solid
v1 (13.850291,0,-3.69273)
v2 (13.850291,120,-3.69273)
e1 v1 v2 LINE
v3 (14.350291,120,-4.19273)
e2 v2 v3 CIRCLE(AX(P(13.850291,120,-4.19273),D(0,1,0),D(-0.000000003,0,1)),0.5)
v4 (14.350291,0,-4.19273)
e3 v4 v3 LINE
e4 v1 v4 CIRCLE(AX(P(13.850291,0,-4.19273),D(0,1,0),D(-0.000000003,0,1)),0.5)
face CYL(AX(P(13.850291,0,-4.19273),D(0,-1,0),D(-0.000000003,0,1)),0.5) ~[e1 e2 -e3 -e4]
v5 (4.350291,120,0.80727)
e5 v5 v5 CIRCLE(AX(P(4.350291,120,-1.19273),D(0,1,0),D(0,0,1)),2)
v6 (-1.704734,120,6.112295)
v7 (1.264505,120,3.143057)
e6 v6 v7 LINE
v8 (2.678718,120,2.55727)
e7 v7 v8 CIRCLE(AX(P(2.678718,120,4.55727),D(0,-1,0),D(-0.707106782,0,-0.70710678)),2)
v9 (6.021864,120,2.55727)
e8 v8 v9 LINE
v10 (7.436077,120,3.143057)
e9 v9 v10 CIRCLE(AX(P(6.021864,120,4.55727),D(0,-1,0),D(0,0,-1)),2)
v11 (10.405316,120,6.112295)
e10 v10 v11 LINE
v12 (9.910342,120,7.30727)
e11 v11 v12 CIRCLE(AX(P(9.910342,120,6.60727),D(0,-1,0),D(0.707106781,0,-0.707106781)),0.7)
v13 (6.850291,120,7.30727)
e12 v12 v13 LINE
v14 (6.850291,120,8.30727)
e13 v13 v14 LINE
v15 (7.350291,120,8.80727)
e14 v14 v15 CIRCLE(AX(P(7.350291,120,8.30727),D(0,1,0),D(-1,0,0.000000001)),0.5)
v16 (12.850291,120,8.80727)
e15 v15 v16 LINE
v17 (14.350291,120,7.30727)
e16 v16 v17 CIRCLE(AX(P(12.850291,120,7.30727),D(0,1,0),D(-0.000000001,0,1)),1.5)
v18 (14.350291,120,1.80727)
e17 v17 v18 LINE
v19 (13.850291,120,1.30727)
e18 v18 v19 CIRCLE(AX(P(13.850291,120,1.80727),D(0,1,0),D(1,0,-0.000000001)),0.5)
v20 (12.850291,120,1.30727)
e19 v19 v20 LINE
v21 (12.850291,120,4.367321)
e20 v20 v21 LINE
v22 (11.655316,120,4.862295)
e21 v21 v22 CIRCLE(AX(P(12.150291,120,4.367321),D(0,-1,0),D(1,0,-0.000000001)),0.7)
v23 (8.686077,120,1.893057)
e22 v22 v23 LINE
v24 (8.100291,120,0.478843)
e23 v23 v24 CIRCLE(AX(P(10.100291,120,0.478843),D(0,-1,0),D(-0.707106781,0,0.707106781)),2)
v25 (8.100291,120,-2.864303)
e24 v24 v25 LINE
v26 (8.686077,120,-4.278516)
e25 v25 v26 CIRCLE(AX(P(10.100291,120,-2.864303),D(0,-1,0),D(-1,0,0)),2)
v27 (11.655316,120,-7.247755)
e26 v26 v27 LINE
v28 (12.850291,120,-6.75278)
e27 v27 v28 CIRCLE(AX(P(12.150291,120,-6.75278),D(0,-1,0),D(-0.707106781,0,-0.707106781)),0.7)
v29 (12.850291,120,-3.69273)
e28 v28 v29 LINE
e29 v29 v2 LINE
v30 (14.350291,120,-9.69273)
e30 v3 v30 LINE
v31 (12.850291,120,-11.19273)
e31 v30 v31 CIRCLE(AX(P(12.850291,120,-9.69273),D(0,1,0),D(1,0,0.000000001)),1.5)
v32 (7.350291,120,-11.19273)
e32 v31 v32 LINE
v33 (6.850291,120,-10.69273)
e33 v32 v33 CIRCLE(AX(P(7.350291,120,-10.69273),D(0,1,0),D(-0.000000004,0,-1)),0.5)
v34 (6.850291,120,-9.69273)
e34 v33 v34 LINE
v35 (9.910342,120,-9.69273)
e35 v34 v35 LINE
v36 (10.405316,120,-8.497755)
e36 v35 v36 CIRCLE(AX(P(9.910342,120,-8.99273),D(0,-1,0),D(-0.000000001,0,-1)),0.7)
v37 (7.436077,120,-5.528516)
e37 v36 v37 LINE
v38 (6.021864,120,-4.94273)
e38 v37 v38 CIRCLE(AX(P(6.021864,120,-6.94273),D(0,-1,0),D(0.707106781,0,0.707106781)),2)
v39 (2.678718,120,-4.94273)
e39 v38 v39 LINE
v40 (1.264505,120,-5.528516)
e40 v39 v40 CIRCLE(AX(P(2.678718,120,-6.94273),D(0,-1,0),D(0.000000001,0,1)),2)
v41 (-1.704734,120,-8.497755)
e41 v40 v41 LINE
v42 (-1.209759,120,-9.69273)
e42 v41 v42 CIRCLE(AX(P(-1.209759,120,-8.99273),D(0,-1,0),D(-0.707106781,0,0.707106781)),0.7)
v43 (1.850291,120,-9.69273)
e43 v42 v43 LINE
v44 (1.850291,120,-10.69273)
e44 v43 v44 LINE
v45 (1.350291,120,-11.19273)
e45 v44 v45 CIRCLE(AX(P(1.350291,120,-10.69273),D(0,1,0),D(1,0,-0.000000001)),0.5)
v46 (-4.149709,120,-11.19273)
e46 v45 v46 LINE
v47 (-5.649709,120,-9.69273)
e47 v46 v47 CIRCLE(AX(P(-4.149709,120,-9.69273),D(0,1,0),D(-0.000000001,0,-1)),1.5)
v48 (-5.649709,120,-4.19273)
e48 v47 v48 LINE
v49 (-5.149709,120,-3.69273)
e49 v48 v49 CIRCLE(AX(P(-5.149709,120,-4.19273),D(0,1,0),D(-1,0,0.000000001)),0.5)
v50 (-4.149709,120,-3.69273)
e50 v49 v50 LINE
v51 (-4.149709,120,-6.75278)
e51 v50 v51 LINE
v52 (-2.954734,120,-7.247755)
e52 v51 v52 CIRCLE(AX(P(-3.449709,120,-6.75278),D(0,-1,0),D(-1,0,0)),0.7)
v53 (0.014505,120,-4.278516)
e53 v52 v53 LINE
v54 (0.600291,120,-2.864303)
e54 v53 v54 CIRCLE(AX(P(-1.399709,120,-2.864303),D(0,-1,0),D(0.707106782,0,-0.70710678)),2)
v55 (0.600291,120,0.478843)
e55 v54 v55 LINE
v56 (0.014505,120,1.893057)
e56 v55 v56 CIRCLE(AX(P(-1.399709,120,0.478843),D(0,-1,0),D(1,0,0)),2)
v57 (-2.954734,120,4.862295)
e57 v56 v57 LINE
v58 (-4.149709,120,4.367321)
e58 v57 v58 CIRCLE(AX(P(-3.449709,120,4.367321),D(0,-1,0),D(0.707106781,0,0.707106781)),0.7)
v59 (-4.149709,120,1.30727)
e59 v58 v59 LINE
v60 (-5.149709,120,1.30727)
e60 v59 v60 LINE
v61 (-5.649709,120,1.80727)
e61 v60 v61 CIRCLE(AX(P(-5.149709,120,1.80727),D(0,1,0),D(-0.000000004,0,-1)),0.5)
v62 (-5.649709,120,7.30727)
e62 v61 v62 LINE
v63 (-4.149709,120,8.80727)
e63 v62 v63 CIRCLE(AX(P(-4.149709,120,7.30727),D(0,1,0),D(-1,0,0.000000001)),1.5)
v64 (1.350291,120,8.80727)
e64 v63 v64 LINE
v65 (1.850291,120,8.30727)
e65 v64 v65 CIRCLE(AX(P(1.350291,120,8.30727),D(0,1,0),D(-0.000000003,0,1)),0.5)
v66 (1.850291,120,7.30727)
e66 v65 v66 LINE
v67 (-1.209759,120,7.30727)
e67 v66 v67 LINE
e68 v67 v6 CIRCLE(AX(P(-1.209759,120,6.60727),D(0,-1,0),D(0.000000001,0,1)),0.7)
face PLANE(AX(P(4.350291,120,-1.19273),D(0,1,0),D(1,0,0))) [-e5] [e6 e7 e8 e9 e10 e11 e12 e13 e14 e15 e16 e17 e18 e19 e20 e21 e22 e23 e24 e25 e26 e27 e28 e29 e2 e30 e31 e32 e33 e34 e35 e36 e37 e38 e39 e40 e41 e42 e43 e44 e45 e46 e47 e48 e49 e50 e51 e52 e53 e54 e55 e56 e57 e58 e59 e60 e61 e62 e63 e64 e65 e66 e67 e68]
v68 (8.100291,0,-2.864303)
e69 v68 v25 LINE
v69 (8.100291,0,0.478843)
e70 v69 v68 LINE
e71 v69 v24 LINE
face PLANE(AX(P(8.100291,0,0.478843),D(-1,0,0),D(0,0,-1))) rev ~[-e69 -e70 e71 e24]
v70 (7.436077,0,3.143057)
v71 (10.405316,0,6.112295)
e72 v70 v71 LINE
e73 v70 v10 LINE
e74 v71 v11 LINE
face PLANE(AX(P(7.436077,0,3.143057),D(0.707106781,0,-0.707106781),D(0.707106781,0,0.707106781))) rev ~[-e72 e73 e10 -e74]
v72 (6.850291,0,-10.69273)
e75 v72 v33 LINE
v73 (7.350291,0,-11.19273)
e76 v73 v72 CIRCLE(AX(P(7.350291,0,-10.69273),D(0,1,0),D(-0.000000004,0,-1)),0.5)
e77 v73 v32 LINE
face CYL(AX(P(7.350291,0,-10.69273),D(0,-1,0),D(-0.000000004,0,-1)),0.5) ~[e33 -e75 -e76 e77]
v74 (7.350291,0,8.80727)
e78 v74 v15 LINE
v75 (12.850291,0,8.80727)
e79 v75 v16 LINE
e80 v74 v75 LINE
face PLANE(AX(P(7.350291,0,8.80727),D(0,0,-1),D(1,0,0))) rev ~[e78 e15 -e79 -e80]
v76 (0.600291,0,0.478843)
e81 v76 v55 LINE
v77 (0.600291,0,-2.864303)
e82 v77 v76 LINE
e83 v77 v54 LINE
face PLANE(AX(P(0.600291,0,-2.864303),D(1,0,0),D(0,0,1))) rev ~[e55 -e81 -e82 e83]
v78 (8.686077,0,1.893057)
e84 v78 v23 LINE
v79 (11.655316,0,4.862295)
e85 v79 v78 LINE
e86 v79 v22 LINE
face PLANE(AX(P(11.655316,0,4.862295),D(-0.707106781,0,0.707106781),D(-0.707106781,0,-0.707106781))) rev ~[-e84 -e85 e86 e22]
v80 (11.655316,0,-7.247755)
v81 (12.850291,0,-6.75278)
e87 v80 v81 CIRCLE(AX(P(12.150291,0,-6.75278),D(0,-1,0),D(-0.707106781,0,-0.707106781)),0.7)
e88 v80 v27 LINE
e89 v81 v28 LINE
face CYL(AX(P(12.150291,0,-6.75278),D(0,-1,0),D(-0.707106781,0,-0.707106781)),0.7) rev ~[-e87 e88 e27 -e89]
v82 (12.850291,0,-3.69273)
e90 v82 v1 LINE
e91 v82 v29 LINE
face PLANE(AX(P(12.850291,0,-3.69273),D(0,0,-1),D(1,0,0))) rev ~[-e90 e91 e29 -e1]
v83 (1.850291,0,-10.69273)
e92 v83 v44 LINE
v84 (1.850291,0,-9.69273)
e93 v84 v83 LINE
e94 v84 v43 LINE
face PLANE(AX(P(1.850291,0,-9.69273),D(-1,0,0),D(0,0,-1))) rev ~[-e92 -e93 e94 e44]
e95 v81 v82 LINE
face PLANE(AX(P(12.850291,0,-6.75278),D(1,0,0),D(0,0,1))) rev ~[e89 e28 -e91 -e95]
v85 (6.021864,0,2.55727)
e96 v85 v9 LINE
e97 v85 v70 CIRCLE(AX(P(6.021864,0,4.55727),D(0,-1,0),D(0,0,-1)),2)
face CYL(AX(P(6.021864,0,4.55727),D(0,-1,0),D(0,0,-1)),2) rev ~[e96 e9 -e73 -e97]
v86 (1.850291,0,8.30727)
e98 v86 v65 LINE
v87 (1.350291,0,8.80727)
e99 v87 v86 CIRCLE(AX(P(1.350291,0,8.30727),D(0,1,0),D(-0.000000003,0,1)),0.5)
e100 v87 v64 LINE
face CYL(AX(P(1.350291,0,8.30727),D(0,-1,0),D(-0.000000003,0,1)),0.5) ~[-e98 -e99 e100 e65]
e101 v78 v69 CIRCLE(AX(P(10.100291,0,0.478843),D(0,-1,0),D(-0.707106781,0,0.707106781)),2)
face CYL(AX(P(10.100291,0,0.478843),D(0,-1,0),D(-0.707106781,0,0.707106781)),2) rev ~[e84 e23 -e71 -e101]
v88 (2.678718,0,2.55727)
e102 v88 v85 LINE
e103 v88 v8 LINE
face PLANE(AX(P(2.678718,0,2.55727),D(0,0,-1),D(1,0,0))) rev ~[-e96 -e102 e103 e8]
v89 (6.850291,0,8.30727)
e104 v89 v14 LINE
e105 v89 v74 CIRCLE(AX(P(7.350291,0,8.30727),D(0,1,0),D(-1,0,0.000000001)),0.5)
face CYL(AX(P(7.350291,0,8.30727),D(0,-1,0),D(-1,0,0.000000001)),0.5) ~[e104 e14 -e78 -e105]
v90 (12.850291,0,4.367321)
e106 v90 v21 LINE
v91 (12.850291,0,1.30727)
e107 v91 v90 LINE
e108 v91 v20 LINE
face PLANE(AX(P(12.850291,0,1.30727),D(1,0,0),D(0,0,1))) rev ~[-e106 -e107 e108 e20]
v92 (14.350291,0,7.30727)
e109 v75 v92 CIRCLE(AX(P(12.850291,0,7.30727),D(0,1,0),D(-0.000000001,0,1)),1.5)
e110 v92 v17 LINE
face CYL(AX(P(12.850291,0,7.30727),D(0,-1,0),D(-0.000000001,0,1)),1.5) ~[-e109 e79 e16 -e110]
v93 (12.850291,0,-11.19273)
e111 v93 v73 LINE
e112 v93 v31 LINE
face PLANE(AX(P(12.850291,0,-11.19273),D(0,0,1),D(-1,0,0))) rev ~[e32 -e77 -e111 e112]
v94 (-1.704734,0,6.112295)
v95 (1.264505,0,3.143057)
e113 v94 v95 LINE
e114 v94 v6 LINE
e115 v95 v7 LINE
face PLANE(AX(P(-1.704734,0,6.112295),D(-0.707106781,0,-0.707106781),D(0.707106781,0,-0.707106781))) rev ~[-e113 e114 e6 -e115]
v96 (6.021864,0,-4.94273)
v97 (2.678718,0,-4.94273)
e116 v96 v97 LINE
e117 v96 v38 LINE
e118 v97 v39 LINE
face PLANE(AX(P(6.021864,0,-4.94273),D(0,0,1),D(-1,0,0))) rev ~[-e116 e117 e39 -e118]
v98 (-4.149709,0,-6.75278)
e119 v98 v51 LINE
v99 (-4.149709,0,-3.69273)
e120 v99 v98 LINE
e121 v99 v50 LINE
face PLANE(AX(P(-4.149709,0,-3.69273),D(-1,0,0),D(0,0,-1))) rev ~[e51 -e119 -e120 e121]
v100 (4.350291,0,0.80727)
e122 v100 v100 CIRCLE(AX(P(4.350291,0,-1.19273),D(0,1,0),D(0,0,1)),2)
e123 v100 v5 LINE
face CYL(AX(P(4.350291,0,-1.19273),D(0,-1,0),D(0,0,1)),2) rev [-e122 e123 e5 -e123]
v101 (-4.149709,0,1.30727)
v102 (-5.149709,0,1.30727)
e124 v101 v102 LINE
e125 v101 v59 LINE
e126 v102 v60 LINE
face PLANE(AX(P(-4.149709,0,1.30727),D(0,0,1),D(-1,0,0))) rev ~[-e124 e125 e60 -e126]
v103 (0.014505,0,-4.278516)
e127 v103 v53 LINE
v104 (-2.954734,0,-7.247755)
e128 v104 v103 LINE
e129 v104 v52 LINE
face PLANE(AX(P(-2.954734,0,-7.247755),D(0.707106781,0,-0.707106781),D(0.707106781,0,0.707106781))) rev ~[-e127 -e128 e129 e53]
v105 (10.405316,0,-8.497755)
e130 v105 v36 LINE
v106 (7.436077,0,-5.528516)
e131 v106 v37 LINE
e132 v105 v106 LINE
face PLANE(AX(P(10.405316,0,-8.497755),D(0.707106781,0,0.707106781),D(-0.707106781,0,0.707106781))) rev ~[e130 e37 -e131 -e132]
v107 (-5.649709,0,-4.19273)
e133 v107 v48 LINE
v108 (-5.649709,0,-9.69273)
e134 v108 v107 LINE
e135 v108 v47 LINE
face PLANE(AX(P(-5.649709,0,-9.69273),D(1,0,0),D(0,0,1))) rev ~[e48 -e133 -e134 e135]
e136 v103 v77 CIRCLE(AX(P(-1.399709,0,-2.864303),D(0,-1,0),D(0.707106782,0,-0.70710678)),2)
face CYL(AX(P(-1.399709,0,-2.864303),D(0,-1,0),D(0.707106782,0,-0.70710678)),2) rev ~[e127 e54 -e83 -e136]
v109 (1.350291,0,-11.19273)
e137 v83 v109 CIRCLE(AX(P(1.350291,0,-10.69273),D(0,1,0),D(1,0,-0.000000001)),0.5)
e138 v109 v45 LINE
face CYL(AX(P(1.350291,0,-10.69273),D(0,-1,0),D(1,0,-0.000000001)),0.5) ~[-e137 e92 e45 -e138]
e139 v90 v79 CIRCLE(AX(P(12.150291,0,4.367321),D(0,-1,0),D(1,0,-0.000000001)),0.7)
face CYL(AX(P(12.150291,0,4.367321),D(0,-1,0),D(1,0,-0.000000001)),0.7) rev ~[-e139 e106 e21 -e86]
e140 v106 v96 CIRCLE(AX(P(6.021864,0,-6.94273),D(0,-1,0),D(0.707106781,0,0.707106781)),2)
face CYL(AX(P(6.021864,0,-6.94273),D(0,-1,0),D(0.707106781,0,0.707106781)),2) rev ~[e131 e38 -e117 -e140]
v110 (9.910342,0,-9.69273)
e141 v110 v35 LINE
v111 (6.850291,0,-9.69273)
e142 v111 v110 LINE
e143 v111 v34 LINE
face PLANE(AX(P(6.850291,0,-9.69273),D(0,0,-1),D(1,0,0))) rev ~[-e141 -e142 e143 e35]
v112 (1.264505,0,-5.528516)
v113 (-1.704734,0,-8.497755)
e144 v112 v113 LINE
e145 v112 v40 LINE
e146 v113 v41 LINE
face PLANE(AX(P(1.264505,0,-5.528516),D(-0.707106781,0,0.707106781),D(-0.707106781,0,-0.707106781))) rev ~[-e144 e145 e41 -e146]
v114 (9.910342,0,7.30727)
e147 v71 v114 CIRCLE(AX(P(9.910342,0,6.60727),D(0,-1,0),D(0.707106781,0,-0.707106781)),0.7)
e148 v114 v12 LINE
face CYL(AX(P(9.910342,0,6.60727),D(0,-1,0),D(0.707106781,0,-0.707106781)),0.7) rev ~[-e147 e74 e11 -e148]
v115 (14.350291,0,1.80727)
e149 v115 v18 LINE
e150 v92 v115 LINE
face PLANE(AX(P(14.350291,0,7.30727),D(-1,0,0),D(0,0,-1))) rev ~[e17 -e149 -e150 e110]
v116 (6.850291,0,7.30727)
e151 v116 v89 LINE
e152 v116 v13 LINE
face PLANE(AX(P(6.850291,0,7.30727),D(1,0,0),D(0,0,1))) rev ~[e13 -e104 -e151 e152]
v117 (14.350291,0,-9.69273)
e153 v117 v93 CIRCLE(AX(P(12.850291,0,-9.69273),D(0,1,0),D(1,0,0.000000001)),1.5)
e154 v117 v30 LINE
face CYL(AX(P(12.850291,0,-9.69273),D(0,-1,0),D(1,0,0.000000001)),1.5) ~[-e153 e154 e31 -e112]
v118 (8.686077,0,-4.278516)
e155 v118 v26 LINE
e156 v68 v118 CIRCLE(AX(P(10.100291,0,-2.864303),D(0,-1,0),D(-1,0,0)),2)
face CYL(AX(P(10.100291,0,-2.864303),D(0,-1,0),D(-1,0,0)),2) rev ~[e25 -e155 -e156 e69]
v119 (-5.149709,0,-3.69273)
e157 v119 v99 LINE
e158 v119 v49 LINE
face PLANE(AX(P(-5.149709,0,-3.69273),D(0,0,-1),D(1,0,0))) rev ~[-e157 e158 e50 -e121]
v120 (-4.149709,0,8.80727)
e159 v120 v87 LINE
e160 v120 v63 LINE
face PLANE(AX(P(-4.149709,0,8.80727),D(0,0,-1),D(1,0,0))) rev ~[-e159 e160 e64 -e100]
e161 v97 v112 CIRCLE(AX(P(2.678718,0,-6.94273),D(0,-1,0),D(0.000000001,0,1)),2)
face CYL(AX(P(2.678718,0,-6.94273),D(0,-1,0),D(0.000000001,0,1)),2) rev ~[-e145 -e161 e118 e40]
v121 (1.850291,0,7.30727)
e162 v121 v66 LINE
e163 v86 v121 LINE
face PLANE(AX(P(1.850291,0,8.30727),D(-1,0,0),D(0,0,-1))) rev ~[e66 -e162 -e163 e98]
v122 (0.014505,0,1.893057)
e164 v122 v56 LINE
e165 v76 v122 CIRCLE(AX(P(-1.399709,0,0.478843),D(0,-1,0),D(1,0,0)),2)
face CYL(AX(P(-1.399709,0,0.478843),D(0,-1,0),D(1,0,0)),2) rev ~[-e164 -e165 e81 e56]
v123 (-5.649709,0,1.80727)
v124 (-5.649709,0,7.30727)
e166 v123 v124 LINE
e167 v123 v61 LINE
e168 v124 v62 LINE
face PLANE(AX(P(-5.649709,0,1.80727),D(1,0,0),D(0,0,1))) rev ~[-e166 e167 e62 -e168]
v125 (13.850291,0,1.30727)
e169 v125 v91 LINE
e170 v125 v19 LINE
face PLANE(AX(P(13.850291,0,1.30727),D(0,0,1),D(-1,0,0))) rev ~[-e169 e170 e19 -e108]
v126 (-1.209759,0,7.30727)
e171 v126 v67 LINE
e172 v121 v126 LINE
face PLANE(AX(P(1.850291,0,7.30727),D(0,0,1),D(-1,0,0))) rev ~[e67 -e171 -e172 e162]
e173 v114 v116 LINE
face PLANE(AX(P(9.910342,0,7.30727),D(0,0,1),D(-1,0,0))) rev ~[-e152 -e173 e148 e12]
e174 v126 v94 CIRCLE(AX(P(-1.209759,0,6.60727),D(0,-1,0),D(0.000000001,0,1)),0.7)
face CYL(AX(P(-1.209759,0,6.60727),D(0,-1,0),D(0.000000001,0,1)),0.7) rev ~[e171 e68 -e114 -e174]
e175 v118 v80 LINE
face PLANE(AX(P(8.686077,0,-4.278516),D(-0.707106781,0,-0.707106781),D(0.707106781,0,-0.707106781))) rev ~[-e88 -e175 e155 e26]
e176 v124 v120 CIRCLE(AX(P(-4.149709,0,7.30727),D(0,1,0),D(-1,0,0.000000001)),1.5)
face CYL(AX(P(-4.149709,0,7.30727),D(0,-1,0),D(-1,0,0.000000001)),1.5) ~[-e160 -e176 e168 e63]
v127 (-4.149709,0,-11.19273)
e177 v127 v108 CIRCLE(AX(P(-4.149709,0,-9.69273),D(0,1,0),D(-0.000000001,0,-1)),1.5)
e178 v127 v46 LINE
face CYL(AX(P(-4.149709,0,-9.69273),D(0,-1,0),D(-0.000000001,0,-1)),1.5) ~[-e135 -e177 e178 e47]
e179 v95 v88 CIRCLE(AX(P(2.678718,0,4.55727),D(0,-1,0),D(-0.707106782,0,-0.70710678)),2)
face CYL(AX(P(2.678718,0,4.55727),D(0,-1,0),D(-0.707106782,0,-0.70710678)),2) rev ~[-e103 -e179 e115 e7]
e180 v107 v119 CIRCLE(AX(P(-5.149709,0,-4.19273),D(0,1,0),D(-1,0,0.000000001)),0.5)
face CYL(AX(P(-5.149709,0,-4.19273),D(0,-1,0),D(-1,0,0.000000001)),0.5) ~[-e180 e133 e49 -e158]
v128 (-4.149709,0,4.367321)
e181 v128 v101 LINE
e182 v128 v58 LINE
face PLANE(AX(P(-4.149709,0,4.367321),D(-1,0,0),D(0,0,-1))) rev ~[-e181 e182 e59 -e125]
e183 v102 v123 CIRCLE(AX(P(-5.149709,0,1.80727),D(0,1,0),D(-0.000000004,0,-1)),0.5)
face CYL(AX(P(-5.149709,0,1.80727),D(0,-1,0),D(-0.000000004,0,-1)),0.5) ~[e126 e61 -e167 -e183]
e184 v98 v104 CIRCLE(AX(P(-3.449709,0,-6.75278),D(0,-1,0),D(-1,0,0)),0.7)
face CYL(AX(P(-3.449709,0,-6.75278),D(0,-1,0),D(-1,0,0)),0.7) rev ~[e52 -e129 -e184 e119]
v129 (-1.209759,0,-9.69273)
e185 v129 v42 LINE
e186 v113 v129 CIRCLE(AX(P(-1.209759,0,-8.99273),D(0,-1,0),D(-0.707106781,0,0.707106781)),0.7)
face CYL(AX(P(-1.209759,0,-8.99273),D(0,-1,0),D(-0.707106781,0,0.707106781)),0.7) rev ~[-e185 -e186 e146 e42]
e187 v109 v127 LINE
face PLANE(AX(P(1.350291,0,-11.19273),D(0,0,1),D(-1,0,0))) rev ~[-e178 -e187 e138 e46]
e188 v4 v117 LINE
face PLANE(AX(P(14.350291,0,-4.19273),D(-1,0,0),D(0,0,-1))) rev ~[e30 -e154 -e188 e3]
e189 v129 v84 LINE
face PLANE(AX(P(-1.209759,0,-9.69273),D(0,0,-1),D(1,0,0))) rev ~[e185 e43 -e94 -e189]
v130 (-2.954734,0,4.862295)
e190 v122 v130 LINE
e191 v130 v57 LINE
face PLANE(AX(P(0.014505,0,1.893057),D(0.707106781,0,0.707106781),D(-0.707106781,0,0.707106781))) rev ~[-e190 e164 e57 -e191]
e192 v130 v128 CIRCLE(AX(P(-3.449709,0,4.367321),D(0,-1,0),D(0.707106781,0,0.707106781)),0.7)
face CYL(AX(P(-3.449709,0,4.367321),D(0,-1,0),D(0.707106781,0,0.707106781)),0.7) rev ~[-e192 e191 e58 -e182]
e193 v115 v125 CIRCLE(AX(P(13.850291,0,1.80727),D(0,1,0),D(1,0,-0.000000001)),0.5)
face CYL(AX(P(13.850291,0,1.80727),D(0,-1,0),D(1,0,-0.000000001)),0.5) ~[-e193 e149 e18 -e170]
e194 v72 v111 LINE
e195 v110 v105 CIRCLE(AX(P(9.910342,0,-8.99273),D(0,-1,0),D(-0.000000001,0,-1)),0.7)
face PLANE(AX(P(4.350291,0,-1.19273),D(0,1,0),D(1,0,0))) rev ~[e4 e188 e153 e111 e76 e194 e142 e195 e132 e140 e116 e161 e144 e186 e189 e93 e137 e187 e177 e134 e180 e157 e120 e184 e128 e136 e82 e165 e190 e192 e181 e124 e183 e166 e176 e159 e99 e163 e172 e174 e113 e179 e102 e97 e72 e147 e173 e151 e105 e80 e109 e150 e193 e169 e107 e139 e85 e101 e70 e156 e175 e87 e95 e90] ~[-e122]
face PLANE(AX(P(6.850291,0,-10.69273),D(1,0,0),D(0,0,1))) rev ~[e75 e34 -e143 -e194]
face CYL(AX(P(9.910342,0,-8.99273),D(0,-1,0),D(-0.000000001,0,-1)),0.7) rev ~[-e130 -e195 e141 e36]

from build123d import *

# Parameters (mm, degrees)
ESQUISSE1_R        = 2
BOSS_EXTRU_1_DEPTH = 120


with BuildPart() as part:
    # Esquisse1 → Boss.-Extru.1 (new body)
    with BuildSketch(Plane(origin=(0, 0, 0), x_dir=(1, 0, 0), z_dir=(0, 1, 0))):
        with BuildLine():
            Line((-5.649708969, 9.692729836), (-5.649708969, 4.192729836))
            ThreePointArc((-5.649708969, 4.192729836), (-5.503262359, 3.839176445), (-5.149708969, 3.692729836))
            Line((-5.149708969, 3.692729836), (-4.149708969, 3.692729836))
            Line((-4.149708969, 3.692729836), (-4.149708969, 6.752780342))
            ThreePointArc((-4.149708969, 6.752780342), (-3.717587371, 7.399496015), (-2.954734222, 7.247755089))
            Line((-2.954734222, 7.247755089), (0.014504594, 4.278516274))
            ThreePointArc((0.014504594, 4.278516274), (0.448050096, 3.629669576), (0.600291031, 2.864302711))
            Line((0.600291031, 2.864302711), (0.600291031, -0.478843039))
            ThreePointArc((0.600291031, -0.478843039), (0.448050096, -1.244209904), (0.014504594, -1.893056602))
            Line((0.014504594, -1.893056602), (-2.954734222, -4.862295417))
            ThreePointArc((-2.954734222, -4.862295417), (-3.717587371, -5.014036343), (-4.149708969, -4.36732067))
            Line((-4.149708969, -4.36732067), (-4.149708969, -1.307270164))
            Line((-4.149708969, -1.307270164), (-5.149708969, -1.307270164))
            ThreePointArc((-5.149708969, -1.307270164), (-5.503262359, -1.453716774), (-5.649708969, -1.807270164))
            Line((-5.649708969, -1.807270164), (-5.649708969, -7.307270164))
            ThreePointArc((-5.649708969, -7.307270164), (-5.21036914, -8.367930336), (-4.149708969, -8.807270164))
            Line((-4.149708969, -8.807270164), (1.350291031, -8.807270164))
            ThreePointArc((1.350291031, -8.807270164), (1.703844422, -8.660823555), (1.850291031, -8.307270164))
            Line((1.850291031, -8.307270164), (1.850291031, -7.307270164))
            Line((1.850291031, -7.307270164), (-1.209759475, -7.307270164))
            ThreePointArc((-1.209759475, -7.307270164), (-1.856475148, -6.875148567), (-1.704734222, -6.112295417))
            Line((-1.704734222, -6.112295417), (1.264504594, -3.143056602))
            ThreePointArc((1.264504594, -3.143056602), (1.913351291, -2.709511099), (2.678718156, -2.557270164))
            Line((2.678718156, -2.557270164), (6.021863907, -2.557270164))
            ThreePointArc((6.021863907, -2.557270164), (6.787230771, -2.709511099), (7.436077469, -3.143056602))
            Line((7.436077469, -3.143056602), (10.405316285, -6.112295417))
            ThreePointArc((10.405316285, -6.112295417), (10.557057211, -6.875148567), (9.910341538, -7.307270164))
            Line((9.910341538, -7.307270164), (6.850291031, -7.307270164))
            Line((6.850291031, -7.307270164), (6.850291031, -8.307270164))
            ThreePointArc((6.850291031, -8.307270164), (6.996737641, -8.660823555), (7.350291031, -8.807270164))
            Line((7.350291031, -8.807270164), (12.850291031, -8.807270164))
            ThreePointArc((12.850291031, -8.807270164), (13.910951203, -8.367930336), (14.350291031, -7.307270164))
            Line((14.350291031, -7.307270164), (14.350291031, -1.807270164))
            ThreePointArc((14.350291031, -1.807270164), (14.203844422, -1.453716774), (13.850291031, -1.307270164))
            Line((13.850291031, -1.307270164), (12.850291031, -1.307270164))
            Line((12.850291031, -1.307270164), (12.850291031, -4.36732067))
            ThreePointArc((12.850291031, -4.36732067), (12.418169434, -5.014036343), (11.655316285, -4.862295417))
            Line((11.655316285, -4.862295417), (8.686077469, -1.893056602))
            ThreePointArc((8.686077469, -1.893056602), (8.252531966, -1.244209904), (8.100291031, -0.478843039))
            Line((8.100291031, -0.478843039), (8.100291031, 2.864302711))
            ThreePointArc((8.100291031, 2.864302711), (8.252531966, 3.629669576), (8.686077469, 4.278516274))
            Line((8.686077469, 4.278516274), (11.655316285, 7.247755089))
            ThreePointArc((11.655316285, 7.247755089), (12.418169434, 7.399496015), (12.850291031, 6.752780342))
            Line((12.850291031, 6.752780342), (12.850291031, 3.692729836))
            Line((12.850291031, 3.692729836), (13.850291031, 3.692729836))
            ThreePointArc((13.850291031, 3.692729836), (14.203844422, 3.839176445), (14.350291031, 4.192729836))
            Line((14.350291031, 4.192729836), (14.350291031, 9.692729836))
            ThreePointArc((14.350291031, 9.692729836), (13.910951203, 10.753390008), (12.850291031, 11.192729836))
            Line((12.850291031, 11.192729836), (7.350291031, 11.192729836))
            ThreePointArc((7.350291031, 11.192729836), (6.996737641, 11.046283226), (6.850291031, 10.692729836))
            Line((6.850291031, 10.692729836), (6.850291031, 9.692729836))
            Line((6.850291031, 9.692729836), (9.910341538, 9.692729836))
            ThreePointArc((9.910341538, 9.692729836), (10.557057211, 9.260608239), (10.405316285, 8.497755089))
            Line((10.405316285, 8.497755089), (7.436077469, 5.528516274))
            ThreePointArc((7.436077469, 5.528516274), (6.787230771, 5.094970771), (6.021863907, 4.942729836))
            Line((6.021863907, 4.942729836), (2.678718156, 4.942729836))
            ThreePointArc((2.678718156, 4.942729836), (1.913351291, 5.094970771), (1.264504594, 5.528516274))
            Line((1.264504594, 5.528516274), (-1.704734222, 8.497755089))
            ThreePointArc((-1.704734222, 8.497755089), (-1.856475148, 9.260608239), (-1.209759475, 9.692729836))
            Line((-1.209759475, 9.692729836), (1.850291031, 9.692729836))
            Line((1.850291031, 9.692729836), (1.850291031, 10.692729836))
            ThreePointArc((1.850291031, 10.692729836), (1.703844422, 11.046283226), (1.350291031, 11.192729836))
            Line((1.350291031, 11.192729836), (-4.149708969, 11.192729836))
            ThreePointArc((-4.149708969, 11.192729836), (-5.21036914, 10.753390008), (-5.649708969, 9.692729836))
        make_face()
        with Locations(Location((4.350291031, 1.192729836, 0), (0, 0, 270))):
            Circle(ESQUISSE1_R, mode=Mode.SUBTRACT)
    extrude(amount=BOSS_EXTRU_1_DEPTH)


solid = part.part
